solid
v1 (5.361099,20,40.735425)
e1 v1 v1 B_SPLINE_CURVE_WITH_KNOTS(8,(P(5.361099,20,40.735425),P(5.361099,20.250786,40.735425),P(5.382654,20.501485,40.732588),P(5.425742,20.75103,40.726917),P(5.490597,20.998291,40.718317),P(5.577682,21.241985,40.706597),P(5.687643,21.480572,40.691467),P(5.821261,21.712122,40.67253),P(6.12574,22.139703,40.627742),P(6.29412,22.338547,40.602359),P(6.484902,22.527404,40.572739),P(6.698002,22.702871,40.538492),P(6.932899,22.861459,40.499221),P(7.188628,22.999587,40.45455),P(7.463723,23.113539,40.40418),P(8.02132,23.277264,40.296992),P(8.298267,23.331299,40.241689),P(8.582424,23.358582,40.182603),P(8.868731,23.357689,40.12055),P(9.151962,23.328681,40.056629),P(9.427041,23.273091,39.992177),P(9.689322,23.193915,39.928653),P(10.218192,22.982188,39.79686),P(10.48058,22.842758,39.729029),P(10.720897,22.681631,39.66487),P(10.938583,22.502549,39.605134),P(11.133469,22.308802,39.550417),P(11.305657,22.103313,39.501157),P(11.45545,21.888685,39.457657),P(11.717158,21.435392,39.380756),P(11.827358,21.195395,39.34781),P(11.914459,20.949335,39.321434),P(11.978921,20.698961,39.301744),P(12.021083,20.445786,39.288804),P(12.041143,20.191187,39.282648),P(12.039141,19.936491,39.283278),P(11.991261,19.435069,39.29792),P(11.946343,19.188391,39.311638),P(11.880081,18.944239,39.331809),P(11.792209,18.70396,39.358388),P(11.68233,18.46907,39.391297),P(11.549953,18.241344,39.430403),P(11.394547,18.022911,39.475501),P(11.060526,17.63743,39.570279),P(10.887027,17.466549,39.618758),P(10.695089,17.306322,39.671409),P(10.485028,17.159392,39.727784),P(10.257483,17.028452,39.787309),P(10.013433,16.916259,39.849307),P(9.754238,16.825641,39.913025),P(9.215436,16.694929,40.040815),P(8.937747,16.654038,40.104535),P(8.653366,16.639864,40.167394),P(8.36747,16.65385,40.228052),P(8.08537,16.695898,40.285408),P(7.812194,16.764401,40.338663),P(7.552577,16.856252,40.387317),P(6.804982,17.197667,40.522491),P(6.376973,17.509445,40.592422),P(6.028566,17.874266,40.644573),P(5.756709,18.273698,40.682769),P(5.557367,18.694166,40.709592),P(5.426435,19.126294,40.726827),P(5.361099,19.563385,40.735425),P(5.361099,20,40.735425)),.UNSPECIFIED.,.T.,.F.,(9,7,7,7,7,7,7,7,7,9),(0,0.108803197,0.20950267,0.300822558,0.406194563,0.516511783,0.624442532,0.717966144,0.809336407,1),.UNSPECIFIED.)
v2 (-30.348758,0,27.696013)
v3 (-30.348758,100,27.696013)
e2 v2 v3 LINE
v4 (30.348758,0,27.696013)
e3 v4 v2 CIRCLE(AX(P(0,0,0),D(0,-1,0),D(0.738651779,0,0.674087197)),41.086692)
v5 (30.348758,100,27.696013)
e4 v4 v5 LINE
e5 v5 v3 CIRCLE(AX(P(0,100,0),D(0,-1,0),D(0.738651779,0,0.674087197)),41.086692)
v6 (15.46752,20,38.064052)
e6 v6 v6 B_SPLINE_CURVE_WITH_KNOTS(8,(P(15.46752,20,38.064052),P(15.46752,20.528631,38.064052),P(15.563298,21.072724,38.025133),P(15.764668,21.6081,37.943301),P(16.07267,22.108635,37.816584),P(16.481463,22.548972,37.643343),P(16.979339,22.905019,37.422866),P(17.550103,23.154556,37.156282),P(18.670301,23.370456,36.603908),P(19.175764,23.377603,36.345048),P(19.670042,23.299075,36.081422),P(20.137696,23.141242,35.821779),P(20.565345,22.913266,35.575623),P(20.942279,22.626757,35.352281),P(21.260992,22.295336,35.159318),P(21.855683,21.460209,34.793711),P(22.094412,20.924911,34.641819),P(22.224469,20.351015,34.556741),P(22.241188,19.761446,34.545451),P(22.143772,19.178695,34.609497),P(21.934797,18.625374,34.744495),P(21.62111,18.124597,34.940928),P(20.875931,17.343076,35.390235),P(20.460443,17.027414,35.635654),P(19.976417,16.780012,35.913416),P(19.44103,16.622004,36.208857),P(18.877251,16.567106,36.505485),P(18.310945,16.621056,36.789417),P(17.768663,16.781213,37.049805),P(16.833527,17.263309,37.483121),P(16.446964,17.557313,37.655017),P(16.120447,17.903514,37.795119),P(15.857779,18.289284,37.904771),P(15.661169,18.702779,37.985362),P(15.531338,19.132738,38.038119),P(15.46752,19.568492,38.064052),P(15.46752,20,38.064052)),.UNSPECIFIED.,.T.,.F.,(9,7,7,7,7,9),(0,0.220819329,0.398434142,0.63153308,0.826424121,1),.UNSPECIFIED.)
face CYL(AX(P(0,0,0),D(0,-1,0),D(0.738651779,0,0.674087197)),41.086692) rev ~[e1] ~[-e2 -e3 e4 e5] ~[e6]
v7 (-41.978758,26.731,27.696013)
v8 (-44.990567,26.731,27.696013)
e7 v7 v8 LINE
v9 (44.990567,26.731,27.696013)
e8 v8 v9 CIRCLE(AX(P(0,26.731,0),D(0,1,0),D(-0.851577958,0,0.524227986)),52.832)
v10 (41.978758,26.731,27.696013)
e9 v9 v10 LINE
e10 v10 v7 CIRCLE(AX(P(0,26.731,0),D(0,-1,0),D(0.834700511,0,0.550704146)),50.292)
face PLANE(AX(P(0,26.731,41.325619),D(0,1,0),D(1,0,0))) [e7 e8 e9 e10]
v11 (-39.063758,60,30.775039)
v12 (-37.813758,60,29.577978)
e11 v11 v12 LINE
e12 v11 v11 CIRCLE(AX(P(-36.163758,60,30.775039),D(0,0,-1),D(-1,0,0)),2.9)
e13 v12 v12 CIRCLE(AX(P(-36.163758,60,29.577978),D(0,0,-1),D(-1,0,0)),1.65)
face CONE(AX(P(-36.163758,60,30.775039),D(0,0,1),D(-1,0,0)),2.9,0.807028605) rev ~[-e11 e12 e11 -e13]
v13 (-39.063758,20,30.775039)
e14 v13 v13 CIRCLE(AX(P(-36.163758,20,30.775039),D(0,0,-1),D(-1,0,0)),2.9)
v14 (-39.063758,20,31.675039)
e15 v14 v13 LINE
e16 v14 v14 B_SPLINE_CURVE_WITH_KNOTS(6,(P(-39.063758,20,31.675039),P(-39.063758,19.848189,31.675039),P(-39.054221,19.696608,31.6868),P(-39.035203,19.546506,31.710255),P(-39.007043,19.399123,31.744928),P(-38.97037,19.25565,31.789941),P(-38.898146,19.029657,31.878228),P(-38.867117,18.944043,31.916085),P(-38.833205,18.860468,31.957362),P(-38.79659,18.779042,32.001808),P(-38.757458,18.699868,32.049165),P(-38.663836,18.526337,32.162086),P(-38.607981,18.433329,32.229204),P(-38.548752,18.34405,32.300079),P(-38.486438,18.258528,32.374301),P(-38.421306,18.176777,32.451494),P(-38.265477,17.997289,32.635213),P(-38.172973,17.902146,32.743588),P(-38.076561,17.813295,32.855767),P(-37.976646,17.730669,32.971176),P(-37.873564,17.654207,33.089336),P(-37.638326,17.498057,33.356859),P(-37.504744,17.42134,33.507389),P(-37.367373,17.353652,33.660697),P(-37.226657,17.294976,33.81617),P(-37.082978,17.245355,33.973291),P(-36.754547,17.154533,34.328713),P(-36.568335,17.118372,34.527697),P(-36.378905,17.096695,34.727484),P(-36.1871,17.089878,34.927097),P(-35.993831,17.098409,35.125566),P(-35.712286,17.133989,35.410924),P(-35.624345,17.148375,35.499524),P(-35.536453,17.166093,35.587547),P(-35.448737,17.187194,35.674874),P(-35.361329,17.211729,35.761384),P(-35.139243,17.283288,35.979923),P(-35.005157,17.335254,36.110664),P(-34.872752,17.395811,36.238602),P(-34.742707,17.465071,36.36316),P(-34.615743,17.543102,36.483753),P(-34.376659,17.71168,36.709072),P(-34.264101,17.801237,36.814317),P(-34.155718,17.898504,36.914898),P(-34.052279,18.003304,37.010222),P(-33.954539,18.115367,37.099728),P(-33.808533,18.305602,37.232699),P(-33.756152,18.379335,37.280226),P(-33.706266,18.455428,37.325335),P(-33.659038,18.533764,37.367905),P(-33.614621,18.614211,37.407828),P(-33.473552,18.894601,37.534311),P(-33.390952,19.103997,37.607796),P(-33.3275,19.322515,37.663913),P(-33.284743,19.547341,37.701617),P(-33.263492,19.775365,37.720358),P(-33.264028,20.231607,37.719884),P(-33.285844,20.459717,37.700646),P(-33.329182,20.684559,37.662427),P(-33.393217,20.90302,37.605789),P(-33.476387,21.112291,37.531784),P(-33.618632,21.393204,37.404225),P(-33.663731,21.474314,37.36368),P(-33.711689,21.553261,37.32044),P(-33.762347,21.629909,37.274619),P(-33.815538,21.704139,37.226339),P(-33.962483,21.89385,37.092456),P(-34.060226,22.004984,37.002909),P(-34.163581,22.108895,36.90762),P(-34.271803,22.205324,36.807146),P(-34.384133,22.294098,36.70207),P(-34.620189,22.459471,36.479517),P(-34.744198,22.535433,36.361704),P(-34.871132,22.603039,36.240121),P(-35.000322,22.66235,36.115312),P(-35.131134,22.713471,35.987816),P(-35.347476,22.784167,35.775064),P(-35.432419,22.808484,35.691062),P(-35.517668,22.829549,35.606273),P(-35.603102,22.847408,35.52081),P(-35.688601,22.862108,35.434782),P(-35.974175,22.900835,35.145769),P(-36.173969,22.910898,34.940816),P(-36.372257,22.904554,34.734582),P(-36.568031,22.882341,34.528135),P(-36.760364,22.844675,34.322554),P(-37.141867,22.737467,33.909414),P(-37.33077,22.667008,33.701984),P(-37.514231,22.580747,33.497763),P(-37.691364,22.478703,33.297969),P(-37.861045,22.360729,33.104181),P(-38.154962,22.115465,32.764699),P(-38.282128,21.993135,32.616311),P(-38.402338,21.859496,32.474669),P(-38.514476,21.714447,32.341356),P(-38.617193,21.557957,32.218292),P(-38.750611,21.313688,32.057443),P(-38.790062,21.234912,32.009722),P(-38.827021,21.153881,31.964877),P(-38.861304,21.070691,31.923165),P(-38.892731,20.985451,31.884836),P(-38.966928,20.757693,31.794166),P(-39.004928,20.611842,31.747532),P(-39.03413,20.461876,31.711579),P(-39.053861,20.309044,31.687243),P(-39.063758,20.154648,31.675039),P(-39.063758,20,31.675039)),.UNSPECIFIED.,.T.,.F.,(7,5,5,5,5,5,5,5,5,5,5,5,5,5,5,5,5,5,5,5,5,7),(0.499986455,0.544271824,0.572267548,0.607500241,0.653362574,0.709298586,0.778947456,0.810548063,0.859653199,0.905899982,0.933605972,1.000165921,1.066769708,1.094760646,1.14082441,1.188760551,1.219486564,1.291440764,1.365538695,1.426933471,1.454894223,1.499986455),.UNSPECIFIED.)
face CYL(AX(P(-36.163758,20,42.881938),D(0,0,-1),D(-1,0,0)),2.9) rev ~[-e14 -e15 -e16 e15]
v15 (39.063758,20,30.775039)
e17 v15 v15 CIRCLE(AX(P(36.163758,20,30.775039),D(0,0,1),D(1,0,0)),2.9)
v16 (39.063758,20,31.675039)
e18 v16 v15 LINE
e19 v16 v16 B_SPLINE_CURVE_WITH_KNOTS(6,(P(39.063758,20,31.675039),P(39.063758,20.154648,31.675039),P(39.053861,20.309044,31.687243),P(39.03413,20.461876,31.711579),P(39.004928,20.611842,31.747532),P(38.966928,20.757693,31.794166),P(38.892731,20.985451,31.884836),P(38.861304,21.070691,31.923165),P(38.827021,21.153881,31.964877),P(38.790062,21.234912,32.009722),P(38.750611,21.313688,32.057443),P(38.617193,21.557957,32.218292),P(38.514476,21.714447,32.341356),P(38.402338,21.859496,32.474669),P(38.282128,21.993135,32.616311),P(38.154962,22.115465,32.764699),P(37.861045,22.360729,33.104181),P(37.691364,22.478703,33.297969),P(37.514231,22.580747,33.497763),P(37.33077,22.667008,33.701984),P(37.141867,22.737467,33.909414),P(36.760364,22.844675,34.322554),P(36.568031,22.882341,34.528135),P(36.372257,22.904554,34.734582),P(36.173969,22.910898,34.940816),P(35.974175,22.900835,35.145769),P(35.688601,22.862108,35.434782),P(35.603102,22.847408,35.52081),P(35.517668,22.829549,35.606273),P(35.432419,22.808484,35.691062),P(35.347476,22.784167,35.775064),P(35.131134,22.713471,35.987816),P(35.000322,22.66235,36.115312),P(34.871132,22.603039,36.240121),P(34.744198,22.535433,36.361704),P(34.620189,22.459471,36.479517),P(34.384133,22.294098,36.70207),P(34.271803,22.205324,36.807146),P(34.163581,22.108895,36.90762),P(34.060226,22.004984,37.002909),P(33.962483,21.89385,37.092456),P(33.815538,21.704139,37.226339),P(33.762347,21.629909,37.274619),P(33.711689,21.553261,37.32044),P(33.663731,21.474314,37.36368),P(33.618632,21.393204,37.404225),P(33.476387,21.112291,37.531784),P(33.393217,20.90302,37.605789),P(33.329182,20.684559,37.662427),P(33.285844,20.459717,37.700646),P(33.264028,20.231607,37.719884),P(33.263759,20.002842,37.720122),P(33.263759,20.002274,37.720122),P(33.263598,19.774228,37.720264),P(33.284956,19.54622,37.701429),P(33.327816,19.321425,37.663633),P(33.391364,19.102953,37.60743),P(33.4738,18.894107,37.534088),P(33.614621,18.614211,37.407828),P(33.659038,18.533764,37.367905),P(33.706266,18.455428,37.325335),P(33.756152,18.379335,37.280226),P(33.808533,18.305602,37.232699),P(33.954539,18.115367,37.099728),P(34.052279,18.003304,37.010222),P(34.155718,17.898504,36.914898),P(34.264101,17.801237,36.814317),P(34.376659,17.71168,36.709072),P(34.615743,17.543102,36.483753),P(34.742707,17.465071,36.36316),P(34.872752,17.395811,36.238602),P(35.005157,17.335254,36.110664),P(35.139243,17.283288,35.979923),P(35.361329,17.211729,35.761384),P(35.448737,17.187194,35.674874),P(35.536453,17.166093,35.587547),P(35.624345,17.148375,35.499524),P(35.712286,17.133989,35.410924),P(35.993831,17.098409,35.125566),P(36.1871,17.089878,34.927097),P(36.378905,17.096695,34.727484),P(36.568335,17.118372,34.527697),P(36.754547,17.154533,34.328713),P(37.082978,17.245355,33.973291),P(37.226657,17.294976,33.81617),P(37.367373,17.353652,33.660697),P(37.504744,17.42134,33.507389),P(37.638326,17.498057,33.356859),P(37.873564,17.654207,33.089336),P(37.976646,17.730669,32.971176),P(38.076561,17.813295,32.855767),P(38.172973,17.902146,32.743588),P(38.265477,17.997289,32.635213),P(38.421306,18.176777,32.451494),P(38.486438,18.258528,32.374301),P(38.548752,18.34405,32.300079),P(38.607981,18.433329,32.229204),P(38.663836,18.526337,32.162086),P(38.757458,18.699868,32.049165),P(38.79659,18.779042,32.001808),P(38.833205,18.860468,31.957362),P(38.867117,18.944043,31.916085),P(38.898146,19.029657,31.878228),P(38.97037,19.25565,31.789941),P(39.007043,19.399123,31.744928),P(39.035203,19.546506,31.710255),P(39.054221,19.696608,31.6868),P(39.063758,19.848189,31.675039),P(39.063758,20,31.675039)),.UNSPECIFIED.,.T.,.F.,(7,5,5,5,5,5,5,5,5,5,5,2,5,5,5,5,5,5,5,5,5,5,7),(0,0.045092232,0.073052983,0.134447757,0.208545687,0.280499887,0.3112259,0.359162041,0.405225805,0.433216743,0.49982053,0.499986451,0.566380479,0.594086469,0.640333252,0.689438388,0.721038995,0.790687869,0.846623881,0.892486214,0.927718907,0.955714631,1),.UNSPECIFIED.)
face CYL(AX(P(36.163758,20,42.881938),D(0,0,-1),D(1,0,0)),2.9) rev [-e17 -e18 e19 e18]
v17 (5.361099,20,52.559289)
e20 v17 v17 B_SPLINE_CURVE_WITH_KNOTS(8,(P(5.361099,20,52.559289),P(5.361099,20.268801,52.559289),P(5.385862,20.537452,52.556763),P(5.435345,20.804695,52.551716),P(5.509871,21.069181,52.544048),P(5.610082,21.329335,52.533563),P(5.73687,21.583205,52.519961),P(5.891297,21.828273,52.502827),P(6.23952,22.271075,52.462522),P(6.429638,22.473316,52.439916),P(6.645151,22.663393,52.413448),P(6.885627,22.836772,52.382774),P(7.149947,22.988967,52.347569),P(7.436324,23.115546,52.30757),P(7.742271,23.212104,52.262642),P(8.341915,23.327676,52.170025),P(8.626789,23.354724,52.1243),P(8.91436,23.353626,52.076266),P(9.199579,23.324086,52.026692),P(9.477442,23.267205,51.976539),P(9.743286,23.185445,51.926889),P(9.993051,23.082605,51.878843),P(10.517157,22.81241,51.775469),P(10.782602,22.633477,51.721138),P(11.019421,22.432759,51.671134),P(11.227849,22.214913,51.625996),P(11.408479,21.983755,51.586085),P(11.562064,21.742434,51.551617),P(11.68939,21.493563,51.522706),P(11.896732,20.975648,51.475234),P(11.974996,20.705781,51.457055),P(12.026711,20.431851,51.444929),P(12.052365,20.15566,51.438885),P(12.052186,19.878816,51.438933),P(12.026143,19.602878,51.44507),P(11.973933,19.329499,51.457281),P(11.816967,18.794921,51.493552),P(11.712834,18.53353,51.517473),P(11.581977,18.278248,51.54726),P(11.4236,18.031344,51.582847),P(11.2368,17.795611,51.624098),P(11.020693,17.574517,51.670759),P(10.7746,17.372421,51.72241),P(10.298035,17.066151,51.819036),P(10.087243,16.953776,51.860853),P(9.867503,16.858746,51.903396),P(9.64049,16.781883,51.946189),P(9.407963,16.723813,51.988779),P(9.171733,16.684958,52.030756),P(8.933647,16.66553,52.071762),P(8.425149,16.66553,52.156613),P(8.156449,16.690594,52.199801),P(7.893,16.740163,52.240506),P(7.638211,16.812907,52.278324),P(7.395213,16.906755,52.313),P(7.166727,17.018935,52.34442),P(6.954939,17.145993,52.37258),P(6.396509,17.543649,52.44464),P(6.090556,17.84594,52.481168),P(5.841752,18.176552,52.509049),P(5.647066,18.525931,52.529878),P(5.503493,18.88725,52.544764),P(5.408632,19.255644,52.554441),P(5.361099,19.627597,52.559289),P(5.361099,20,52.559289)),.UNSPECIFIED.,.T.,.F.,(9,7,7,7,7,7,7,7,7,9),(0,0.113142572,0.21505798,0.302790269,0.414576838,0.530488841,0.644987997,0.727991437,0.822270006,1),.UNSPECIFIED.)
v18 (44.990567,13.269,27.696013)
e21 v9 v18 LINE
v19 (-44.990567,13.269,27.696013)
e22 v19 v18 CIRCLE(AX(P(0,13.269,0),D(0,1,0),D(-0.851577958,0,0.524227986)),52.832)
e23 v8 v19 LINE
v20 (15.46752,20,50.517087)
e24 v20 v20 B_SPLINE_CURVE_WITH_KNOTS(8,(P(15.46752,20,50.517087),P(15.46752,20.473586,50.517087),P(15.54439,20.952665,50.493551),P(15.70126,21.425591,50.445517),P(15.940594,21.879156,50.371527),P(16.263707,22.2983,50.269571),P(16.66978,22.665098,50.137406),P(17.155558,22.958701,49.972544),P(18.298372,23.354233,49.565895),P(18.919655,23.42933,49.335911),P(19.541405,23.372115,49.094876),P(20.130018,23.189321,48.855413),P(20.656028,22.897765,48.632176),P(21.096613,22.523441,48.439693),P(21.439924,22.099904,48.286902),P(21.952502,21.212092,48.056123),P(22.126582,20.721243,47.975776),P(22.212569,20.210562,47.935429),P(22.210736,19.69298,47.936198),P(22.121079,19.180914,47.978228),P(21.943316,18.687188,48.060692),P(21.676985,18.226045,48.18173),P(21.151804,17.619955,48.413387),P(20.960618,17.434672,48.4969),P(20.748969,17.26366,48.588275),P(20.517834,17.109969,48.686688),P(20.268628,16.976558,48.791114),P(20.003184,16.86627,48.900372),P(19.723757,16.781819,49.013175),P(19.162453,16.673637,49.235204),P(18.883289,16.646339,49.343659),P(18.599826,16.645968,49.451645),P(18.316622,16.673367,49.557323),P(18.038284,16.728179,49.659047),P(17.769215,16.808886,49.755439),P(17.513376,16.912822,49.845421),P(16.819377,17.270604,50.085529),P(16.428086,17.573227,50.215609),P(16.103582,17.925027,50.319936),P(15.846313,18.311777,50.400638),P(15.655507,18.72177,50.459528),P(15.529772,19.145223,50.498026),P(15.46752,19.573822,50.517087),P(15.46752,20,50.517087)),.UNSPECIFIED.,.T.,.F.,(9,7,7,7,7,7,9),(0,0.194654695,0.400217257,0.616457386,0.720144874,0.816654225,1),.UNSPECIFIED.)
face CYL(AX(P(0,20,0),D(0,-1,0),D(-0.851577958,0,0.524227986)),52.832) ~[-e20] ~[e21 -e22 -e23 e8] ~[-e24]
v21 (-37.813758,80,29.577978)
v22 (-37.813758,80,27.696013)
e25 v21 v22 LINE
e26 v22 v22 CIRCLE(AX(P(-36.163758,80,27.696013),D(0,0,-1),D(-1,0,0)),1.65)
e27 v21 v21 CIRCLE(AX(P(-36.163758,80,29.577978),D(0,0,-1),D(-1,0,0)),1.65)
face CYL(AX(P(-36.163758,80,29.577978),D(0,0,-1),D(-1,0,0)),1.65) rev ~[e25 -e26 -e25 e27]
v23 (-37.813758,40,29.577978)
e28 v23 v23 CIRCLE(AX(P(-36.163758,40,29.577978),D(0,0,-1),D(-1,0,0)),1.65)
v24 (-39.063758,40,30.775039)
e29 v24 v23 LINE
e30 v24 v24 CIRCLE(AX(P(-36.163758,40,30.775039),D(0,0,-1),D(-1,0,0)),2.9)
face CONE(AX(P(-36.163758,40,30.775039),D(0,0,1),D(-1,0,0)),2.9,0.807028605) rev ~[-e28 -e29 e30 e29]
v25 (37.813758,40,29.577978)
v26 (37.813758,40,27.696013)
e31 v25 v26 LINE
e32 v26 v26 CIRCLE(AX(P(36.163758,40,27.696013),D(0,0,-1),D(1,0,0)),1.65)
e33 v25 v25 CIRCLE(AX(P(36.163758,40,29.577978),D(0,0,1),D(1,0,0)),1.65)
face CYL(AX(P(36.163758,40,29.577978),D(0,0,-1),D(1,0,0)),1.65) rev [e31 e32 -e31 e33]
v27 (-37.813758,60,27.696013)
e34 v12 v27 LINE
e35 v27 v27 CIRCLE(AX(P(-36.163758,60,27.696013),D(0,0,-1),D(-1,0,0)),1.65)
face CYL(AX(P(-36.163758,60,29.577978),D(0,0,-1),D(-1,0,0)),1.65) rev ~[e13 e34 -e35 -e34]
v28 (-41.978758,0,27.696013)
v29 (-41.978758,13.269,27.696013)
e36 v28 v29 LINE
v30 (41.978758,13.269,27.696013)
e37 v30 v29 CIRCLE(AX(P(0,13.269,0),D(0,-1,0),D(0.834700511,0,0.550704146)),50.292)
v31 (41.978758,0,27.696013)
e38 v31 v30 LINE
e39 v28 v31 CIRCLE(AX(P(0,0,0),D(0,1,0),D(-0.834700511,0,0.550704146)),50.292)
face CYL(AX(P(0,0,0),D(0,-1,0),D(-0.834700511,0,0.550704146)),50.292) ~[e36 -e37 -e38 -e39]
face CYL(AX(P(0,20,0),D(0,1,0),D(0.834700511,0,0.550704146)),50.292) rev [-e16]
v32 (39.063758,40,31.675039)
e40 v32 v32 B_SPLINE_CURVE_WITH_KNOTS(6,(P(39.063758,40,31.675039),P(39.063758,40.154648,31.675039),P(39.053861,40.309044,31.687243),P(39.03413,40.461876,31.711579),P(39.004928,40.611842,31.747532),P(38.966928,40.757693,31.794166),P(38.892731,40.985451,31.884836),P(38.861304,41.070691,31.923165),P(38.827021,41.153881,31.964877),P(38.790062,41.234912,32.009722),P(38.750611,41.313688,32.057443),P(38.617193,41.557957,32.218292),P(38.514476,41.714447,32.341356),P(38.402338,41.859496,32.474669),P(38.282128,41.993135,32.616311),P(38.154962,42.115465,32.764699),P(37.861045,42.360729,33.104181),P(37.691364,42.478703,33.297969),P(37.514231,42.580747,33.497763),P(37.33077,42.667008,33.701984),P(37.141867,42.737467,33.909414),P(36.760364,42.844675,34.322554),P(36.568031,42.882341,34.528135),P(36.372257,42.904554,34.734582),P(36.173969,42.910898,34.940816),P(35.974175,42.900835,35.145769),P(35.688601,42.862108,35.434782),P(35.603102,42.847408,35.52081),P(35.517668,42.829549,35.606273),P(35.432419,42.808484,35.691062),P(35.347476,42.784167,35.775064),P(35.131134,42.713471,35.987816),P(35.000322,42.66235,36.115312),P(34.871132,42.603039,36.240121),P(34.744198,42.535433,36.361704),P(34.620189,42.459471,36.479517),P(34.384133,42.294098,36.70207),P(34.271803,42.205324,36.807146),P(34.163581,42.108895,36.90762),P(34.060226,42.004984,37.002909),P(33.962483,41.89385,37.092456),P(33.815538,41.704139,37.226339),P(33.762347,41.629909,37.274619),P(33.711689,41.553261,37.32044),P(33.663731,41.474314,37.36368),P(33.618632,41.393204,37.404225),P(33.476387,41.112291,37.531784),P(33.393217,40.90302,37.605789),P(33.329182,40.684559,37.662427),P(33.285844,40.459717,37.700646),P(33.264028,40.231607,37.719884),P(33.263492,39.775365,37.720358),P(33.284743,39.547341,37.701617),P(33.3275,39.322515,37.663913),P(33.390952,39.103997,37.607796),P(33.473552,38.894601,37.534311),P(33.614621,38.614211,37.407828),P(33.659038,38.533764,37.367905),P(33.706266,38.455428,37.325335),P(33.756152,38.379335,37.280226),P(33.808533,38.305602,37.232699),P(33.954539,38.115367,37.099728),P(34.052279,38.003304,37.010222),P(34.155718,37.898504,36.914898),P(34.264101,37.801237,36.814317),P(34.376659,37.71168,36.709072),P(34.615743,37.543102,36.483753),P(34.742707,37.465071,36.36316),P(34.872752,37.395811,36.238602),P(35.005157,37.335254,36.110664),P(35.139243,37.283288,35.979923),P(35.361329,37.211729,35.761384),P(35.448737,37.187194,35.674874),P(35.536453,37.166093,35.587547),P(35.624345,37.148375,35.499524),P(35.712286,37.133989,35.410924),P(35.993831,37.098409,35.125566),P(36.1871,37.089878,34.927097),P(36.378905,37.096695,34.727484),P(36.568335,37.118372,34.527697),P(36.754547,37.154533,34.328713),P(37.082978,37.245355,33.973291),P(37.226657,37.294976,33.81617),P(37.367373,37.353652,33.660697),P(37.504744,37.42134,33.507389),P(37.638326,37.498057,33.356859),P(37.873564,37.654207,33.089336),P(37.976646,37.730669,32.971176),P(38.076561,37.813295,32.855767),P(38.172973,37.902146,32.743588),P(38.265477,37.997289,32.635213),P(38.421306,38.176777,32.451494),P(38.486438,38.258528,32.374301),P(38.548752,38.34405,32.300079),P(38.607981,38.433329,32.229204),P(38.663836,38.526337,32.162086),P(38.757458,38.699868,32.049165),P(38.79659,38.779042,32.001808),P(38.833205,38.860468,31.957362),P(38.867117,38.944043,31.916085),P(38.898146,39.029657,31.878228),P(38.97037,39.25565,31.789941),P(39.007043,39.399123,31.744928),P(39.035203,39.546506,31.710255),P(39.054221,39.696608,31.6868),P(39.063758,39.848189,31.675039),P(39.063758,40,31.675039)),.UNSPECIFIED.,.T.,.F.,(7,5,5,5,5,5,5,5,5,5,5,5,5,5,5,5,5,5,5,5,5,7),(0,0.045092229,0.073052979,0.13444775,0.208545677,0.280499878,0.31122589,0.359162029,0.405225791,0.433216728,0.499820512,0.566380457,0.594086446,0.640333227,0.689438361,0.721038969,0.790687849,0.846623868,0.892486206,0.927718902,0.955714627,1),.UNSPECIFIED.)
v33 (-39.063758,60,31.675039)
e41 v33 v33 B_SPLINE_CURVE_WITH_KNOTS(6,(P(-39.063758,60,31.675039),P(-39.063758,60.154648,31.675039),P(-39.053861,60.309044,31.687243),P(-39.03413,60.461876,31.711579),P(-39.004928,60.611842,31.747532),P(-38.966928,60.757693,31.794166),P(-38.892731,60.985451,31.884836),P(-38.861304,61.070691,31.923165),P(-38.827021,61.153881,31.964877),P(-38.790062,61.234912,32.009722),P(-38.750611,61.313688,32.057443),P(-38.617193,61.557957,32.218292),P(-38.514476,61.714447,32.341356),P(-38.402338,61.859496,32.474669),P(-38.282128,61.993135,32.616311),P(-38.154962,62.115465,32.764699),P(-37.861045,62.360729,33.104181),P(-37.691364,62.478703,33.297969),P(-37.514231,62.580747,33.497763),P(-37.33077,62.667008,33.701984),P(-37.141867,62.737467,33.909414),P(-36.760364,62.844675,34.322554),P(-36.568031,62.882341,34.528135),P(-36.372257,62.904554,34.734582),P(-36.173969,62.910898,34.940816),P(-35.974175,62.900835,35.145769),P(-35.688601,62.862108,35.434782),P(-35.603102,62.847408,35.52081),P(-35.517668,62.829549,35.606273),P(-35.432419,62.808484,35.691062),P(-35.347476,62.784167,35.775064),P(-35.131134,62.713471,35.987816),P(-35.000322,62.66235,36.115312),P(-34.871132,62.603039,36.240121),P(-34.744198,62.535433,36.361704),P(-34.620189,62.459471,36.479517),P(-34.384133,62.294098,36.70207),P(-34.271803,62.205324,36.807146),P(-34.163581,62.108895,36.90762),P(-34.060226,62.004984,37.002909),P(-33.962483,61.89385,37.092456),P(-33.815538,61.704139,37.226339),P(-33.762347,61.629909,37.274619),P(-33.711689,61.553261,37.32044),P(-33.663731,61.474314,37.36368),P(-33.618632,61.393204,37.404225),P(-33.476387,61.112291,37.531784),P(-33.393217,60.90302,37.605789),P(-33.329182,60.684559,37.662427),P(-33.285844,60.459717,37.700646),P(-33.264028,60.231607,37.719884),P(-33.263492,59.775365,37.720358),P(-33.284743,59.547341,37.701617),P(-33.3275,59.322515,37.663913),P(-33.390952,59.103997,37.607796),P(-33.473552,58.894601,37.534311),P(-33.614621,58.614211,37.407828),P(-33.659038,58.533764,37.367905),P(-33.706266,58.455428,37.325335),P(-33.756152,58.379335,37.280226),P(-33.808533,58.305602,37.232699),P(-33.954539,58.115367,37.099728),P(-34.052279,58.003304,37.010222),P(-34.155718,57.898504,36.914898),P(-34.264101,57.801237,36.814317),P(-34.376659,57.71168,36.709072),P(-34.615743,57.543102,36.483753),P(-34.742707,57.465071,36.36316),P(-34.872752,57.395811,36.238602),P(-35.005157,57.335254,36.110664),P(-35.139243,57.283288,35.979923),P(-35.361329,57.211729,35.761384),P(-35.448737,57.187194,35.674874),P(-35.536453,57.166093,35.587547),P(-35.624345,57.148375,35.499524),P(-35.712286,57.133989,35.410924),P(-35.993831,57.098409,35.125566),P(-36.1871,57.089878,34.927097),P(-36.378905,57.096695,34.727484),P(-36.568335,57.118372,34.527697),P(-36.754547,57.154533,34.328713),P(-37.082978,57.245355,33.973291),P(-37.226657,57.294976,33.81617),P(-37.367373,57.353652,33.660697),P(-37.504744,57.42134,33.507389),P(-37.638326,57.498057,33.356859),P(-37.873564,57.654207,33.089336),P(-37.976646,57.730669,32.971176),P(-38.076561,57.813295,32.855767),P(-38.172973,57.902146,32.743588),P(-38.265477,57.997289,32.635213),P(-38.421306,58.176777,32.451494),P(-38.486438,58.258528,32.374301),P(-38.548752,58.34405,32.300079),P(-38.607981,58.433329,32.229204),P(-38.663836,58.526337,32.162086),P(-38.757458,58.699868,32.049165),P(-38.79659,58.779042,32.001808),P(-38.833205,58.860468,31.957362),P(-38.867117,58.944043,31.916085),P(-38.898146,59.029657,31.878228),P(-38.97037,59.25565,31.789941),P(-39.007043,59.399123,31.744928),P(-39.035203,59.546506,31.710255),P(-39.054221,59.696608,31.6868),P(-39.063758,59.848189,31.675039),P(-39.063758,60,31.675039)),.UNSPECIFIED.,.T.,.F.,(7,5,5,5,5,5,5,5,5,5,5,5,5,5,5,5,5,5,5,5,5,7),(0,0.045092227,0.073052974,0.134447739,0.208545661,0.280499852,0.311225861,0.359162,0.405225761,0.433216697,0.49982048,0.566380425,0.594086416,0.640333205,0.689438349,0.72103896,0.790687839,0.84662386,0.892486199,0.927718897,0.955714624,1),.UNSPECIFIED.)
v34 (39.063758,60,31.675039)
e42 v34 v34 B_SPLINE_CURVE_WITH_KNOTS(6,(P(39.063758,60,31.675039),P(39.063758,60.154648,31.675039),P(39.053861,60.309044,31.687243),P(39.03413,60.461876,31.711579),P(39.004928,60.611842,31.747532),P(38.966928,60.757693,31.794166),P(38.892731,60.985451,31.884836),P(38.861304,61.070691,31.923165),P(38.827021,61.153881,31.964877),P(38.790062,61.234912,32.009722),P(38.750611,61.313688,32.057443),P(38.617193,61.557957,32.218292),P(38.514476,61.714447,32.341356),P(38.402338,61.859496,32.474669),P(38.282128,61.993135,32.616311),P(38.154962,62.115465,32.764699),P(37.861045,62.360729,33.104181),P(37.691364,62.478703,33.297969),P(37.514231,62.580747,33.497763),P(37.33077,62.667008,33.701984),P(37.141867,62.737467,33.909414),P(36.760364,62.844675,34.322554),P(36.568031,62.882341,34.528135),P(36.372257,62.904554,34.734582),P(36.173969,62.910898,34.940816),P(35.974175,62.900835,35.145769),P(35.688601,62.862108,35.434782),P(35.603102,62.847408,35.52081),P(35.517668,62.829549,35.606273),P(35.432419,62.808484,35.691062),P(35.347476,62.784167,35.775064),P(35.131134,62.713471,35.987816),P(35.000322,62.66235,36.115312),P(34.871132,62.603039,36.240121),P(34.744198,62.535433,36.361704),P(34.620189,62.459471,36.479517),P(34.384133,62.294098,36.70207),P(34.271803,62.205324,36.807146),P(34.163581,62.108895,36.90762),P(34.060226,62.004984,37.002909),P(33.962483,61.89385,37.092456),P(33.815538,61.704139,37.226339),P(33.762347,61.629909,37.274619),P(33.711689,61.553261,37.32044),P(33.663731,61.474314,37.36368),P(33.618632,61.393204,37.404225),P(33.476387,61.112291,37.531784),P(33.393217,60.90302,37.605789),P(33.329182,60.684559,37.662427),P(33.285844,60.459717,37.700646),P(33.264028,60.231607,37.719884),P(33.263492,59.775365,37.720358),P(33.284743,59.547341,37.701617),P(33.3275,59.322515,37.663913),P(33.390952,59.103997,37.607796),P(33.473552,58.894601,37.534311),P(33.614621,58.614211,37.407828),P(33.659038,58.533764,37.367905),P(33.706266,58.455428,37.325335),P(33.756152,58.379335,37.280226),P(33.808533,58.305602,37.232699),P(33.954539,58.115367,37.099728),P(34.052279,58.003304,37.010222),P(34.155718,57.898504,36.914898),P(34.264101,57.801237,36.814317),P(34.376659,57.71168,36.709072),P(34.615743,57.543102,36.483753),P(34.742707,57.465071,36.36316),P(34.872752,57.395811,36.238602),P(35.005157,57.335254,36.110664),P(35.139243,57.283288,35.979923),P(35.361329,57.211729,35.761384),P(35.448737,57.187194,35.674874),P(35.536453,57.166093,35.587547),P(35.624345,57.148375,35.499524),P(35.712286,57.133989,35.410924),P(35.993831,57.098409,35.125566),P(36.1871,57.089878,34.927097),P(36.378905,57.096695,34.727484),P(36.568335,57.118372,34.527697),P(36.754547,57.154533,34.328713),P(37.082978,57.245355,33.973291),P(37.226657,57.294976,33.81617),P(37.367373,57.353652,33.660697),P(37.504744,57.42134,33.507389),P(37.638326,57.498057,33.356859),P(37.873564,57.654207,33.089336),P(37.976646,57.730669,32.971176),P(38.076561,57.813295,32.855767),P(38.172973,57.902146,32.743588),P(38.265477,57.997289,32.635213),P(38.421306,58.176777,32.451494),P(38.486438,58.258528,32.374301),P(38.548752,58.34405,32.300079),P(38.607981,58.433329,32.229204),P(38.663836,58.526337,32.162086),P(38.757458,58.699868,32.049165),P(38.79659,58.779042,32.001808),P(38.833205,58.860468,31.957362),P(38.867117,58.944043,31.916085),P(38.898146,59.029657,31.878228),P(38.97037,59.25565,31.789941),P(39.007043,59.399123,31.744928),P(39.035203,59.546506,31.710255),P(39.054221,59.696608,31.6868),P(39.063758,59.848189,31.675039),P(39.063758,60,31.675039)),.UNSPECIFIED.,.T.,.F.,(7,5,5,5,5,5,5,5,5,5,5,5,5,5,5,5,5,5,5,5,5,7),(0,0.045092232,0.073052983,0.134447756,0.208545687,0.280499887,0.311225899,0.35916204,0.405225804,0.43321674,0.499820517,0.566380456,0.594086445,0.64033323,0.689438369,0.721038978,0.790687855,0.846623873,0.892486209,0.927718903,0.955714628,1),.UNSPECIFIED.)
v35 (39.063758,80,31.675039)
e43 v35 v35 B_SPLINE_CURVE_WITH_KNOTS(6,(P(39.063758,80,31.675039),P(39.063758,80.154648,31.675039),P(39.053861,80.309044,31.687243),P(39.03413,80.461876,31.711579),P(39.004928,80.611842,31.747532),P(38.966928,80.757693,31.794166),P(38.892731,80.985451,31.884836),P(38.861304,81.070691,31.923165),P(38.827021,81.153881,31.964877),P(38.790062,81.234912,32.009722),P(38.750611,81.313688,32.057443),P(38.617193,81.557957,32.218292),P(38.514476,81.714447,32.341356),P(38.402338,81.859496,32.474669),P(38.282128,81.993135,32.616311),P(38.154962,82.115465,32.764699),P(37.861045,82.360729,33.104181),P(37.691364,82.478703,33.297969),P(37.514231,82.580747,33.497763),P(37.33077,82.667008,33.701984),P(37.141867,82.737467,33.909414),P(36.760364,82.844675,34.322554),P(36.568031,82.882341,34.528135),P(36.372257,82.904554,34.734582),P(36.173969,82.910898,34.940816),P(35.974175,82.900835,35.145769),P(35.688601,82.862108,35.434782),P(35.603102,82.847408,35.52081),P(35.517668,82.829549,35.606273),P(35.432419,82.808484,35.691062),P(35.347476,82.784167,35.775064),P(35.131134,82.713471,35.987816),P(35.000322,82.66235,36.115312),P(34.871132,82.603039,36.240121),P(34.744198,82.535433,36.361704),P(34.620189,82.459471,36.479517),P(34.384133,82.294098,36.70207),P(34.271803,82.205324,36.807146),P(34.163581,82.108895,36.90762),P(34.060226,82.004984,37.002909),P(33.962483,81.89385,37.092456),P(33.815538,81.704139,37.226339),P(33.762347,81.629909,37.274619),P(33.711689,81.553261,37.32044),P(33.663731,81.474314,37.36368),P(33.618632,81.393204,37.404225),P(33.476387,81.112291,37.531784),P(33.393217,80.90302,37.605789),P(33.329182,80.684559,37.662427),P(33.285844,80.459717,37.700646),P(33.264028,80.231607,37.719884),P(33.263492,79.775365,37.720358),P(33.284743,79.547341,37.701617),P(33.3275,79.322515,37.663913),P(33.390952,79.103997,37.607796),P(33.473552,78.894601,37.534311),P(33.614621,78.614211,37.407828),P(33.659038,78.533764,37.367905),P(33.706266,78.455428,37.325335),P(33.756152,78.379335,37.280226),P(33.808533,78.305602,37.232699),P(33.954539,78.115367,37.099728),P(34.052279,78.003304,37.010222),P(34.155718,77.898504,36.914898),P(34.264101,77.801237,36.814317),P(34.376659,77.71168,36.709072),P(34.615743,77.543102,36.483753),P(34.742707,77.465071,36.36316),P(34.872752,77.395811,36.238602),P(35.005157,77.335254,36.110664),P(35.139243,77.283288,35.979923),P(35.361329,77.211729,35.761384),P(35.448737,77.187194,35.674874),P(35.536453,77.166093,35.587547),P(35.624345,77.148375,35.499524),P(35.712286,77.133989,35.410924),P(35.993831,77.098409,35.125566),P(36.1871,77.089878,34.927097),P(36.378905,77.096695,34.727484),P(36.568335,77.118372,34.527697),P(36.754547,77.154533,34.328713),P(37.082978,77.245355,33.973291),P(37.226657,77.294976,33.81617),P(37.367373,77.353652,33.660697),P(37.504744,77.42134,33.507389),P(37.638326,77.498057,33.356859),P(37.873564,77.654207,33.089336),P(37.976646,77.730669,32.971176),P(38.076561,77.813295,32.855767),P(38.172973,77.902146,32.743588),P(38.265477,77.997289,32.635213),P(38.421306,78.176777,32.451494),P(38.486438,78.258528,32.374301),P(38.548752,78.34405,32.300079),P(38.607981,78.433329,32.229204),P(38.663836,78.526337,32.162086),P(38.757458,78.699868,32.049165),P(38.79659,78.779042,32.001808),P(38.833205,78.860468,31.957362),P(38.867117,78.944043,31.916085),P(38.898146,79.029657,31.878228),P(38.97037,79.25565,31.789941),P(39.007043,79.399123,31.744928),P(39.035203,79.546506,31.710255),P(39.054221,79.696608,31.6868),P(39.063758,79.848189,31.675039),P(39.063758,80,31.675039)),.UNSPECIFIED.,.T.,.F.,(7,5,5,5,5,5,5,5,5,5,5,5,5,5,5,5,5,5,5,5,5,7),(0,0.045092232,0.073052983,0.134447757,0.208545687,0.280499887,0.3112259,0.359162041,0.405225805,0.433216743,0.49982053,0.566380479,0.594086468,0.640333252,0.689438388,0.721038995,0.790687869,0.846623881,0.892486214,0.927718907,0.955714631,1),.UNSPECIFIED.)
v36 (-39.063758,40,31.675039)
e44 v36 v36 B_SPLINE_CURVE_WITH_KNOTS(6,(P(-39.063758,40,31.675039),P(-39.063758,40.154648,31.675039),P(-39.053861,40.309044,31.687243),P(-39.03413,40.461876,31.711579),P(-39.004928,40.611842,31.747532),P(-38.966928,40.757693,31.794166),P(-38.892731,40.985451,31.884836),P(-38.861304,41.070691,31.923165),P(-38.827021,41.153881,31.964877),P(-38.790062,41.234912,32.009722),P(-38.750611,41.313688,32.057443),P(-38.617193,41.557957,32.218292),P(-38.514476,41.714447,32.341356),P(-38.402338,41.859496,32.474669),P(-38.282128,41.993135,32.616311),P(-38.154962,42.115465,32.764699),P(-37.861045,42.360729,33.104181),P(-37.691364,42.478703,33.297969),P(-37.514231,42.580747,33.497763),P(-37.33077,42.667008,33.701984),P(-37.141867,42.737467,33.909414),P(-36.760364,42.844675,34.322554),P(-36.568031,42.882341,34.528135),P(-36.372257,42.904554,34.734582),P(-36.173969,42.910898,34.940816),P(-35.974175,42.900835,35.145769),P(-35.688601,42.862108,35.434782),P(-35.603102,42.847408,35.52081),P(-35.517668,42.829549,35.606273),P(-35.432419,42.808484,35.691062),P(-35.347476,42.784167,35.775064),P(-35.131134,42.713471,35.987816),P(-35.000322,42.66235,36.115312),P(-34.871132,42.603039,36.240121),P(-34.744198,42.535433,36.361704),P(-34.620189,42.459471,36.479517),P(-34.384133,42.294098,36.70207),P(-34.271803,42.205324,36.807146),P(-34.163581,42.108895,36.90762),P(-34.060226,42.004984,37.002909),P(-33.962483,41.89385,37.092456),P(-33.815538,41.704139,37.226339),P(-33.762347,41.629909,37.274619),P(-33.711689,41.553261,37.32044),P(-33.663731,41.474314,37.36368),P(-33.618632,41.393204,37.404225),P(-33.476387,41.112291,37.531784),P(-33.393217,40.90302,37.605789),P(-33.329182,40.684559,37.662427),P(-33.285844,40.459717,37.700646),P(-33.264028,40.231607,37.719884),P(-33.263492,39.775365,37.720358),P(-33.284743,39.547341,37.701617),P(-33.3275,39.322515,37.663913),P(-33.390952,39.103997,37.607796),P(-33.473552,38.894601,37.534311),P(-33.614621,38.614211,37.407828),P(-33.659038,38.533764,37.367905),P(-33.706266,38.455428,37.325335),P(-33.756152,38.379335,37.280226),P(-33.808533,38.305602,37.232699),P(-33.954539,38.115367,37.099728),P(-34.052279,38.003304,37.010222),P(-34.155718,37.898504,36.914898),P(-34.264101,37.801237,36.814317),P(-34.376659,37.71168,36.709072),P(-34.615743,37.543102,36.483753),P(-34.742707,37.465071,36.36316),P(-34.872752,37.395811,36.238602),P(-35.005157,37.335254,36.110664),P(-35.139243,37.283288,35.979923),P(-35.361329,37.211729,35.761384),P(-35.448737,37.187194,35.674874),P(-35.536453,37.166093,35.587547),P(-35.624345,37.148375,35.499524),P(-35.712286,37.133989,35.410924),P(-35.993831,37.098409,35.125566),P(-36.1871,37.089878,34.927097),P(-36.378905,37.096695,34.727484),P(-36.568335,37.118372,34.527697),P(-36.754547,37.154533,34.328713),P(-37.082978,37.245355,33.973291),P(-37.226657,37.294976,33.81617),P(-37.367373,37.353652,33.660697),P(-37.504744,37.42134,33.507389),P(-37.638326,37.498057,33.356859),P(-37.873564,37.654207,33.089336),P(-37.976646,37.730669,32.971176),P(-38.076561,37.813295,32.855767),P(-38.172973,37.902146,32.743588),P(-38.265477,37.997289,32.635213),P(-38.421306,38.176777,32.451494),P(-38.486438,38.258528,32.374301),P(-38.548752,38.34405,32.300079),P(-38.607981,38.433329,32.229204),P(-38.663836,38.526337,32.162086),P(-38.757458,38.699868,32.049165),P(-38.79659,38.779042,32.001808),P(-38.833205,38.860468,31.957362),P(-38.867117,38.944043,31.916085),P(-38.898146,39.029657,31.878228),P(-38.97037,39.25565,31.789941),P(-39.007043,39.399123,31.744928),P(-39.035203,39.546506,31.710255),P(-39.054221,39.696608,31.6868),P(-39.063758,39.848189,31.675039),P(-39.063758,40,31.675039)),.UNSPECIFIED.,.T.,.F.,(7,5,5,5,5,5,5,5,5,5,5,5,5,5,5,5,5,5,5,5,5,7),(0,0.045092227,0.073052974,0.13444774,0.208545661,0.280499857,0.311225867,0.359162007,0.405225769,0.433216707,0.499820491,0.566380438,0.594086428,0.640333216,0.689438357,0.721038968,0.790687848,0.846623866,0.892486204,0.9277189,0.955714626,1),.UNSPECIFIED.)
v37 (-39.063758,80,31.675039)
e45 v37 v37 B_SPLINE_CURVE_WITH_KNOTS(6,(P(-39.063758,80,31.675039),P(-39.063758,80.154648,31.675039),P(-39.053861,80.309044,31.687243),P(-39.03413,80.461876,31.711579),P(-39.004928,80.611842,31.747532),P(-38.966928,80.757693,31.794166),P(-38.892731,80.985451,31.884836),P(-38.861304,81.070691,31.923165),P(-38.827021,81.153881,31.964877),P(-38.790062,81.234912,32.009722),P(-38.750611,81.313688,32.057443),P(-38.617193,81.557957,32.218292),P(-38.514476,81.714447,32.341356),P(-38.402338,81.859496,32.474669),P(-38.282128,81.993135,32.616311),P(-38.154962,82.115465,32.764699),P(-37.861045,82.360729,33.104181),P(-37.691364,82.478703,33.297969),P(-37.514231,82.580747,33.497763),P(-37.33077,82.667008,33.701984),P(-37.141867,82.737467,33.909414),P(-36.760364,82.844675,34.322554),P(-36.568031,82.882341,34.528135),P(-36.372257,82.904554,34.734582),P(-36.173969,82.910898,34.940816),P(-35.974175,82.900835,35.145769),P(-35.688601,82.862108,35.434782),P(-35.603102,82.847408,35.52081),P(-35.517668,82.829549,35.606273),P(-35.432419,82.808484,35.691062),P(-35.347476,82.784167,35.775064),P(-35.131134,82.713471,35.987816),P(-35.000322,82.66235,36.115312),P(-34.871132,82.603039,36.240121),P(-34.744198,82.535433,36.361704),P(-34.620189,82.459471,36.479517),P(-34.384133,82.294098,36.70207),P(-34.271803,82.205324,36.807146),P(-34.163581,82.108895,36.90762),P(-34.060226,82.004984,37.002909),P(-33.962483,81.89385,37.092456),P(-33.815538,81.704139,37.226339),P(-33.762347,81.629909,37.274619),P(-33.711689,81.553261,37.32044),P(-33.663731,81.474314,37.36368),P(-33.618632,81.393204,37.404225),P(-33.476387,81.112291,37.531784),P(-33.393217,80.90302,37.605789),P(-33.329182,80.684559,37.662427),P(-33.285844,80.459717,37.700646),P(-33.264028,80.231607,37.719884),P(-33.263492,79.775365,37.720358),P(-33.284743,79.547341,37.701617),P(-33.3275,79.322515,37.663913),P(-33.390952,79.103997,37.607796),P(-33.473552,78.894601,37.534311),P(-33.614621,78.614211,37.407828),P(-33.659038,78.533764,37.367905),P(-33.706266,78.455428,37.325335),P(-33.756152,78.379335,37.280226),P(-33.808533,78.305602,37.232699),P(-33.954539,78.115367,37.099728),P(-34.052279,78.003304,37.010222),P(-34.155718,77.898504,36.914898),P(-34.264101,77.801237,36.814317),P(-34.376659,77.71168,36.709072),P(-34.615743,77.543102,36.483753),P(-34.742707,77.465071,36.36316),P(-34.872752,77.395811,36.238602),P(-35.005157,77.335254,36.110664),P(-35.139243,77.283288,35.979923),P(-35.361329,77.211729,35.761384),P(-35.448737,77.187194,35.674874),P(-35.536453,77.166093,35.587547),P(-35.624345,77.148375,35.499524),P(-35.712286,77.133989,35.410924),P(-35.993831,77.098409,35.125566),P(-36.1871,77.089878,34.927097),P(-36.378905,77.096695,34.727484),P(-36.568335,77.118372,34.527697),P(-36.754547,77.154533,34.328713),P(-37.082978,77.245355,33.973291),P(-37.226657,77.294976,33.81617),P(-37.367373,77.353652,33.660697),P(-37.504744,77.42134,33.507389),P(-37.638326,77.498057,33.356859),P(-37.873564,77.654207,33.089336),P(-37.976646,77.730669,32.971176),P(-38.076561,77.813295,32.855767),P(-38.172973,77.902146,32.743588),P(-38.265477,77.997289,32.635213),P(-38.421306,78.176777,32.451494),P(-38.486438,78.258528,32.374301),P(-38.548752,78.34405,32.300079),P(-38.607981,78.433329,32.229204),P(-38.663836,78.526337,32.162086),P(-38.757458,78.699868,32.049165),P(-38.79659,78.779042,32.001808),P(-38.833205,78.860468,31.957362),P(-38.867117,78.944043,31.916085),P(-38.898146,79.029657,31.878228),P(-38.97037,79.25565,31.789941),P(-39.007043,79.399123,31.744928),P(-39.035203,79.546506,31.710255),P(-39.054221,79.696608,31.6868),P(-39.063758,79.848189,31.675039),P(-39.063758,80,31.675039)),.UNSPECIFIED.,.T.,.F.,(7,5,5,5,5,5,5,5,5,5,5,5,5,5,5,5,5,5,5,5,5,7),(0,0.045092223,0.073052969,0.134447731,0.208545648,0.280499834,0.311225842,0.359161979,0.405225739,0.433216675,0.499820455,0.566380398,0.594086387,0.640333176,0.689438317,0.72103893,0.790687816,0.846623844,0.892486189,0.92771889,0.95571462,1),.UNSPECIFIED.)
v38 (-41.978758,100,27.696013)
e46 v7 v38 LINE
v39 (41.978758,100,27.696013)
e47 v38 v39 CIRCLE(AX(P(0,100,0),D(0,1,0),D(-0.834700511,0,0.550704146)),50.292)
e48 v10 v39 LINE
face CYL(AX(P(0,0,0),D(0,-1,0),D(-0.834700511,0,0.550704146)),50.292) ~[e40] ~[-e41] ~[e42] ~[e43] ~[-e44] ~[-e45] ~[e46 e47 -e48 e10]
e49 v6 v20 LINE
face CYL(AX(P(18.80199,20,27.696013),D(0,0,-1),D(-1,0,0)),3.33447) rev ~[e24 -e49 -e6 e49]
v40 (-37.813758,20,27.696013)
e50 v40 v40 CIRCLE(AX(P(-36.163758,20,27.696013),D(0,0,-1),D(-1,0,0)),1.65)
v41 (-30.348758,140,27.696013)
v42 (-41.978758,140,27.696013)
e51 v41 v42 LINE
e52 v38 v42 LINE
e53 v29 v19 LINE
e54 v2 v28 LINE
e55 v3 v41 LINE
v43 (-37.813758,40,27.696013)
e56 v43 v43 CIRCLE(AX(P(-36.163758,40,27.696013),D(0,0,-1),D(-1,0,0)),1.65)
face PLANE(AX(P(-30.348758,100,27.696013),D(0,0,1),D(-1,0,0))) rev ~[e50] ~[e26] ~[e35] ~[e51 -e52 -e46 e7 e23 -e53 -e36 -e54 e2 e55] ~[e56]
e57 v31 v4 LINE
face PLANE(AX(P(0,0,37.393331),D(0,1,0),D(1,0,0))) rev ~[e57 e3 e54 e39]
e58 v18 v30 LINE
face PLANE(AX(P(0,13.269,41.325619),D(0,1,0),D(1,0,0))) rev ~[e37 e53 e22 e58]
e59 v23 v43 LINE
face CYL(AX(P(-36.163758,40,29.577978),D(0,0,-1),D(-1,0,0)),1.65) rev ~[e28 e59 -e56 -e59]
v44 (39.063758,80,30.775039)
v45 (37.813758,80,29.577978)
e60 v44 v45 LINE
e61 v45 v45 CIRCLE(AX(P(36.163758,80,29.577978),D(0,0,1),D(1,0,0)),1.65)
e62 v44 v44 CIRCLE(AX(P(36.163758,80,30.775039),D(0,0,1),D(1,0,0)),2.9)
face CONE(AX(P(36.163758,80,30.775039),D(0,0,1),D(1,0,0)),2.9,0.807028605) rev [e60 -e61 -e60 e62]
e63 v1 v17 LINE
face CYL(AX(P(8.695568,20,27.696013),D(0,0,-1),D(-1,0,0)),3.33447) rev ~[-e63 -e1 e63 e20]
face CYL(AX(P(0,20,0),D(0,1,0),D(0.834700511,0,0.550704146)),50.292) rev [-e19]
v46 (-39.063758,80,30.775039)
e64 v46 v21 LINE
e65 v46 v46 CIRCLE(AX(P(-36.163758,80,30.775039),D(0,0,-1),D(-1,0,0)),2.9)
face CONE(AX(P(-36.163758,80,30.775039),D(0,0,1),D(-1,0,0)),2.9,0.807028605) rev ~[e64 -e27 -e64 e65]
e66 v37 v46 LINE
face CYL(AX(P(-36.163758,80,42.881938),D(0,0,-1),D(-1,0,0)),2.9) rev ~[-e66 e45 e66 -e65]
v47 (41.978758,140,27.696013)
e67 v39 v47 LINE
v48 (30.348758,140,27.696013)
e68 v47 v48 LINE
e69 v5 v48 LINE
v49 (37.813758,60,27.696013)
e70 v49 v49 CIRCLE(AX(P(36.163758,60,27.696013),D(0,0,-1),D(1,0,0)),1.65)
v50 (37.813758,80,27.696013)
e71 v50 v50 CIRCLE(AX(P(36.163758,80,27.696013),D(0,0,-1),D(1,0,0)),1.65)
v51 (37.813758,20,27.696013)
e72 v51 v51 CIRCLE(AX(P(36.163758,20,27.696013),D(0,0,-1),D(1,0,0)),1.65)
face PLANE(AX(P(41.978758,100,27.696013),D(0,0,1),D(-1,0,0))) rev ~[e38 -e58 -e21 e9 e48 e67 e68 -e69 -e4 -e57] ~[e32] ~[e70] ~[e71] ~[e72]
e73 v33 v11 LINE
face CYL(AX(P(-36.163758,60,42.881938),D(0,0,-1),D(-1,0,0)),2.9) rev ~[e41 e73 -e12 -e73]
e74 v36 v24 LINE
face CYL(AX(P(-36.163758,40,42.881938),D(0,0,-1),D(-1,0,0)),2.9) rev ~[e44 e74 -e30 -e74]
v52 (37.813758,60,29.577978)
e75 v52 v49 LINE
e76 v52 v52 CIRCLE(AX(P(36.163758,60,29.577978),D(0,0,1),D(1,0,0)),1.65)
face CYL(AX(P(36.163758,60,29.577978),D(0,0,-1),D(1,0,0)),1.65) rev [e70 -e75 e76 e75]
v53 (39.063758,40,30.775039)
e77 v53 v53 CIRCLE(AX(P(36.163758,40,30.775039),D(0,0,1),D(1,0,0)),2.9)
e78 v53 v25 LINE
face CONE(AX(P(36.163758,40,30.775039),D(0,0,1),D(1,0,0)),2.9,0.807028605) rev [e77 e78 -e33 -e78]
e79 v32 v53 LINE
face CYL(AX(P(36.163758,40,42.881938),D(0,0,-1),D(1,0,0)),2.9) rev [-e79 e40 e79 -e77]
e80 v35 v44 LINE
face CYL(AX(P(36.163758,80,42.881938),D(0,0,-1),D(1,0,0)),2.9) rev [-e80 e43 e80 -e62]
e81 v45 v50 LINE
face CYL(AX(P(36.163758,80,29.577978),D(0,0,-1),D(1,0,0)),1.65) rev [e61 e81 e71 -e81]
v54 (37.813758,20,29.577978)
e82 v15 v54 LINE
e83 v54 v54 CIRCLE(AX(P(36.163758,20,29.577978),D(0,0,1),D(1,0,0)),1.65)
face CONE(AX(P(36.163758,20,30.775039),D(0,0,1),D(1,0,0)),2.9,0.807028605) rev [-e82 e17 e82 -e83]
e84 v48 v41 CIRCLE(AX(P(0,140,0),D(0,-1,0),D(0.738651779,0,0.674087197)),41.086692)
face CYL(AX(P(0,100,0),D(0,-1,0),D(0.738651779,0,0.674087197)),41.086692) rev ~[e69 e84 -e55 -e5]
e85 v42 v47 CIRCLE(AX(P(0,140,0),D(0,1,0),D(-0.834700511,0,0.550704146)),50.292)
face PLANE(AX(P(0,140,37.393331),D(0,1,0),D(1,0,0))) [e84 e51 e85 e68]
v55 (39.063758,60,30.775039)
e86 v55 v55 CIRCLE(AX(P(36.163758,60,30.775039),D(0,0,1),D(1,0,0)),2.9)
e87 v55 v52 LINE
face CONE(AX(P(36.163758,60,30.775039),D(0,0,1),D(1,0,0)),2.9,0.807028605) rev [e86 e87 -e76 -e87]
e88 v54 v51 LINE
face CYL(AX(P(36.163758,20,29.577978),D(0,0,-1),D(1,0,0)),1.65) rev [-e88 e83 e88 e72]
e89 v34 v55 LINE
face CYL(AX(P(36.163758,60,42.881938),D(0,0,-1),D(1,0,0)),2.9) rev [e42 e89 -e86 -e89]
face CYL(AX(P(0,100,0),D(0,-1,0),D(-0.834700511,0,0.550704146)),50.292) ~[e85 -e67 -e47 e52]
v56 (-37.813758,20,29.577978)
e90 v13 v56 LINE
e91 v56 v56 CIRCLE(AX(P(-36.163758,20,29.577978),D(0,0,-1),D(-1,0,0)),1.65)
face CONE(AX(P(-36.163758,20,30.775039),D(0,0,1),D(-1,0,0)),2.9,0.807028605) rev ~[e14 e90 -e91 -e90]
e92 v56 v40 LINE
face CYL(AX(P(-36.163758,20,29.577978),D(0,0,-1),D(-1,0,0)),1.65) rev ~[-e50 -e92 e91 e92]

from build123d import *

# Parameters (mm, degrees)
BOSS_EXTRUDE1_DEPTH      = 100
LPATTERN1_COUNT          = 4
LPATTERN1_PITCH          = 20
BOSS_EXTRUDE2_DEPTH      = 6.731
BOSS_EXTRUDE2_DEPTH_BACK = 6.731
SKETCH9_R                = 3.334469726
CUT_EXTRUDE1_DEPTH       = 34
BOSS_EXTRUDE3_DEPTH      = 40


with BuildPart() as part:
    # Sketch1 → Boss-Extrude1 (new body)
    with BuildSketch(Plane(origin=(60.535204745, 0, -85.948449604), x_dir=(1, 0, 0), z_dir=(0, 1, 0))):
        with BuildLine():
            ThreePointArc((-30.186446753, -113.644462538), (-60.535204745, -127.035141416), (-90.883962736, -113.644462538))
            Line((-90.883962736, -113.644462538), (-102.513962844, -113.644462538))
            ThreePointArc((-102.513962844, -113.644462538), (-60.535204745, -136.240449604), (-18.556446645, -113.644462538))
            Line((-18.556446645, -113.644462538), (-30.186446753, -113.644462538))
        make_face()
    extrude(amount=BOSS_EXTRUDE1_DEPTH)

    # Sketch6 → Cut-Revolve4 (revolve, cut)
    with BuildSketch(Plane(origin=(36.163758045, 20, 27.696012934), x_dir=(-1, 0, 0), z_dir=(0, -1, 0))):
        Polygon((0, 1.685394277), (0, -4.78184701), (0, -15.185924704), (-2.9, -15.185924704), (-2.9, -3.079025683), (-1.65, -1.881964943), (-1.65, 1.685394277), align=None)
    cut_revolve4 = revolve(axis=Axis((36.163758045, 20, 26.010618657), (0, 0, 1)), mode=Mode.SUBTRACT)

    # LPattern1: Cut-Revolve4 ×4
    with Locations(*[(0, i * LPATTERN1_PITCH, 0) for i in range(1, LPATTERN1_COUNT)]):
        add(cut_revolve4, mode=Mode.SUBTRACT)

    # Mirror1: Cut-Revolve4 across plane
    add(cut_revolve4.mirror(Plane(origin=(0, 0, 0), x_dir=(0, 0, 1), z_dir=(1, 0, 0))), mode=Mode.SUBTRACT)

    # Mirror1 copy 1 sketch → Mirror1 copy 1 (revolve, cut)
    with BuildSketch(Plane(origin=(-36.163758045, 40, 27.696012934), x_dir=(1, 0, 0), z_dir=(0, -1, 0))):
        Polygon((0, -1.685394277), (0, 4.78184701), (0, 15.185924704), (-2.9, 15.185924704), (-2.9, 3.079025683), (-1.65, 1.881964943), (-1.65, -1.685394277), align=None)
    revolve(axis=Axis((-36.163758045, 40, 26.010618657), (0, 0, -1)), mode=Mode.SUBTRACT)

    # Mirror1 copy 2 sketch → Mirror1 copy 2 (revolve, cut)
    with BuildSketch(Plane(origin=(-36.163758045, 60, 27.696012934), x_dir=(1, 0, 0), z_dir=(0, -1, 0))):
        Polygon((0, -1.685394277), (0, 4.78184701), (0, 15.185924704), (-2.9, 15.185924704), (-2.9, 3.079025683), (-1.65, 1.881964943), (-1.65, -1.685394277), align=None)
    revolve(axis=Axis((-36.163758045, 60, 26.010618657), (0, 0, -1)), mode=Mode.SUBTRACT)

    # Mirror1 copy 3 sketch → Mirror1 copy 3 (revolve, cut)
    with BuildSketch(Plane(origin=(-36.163758045, 80, 27.696012934), x_dir=(1, 0, 0), z_dir=(0, -1, 0))):
        Polygon((0, -1.685394277), (0, 4.78184701), (0, 15.185924704), (-2.9, 15.185924704), (-2.9, 3.079025683), (-1.65, 1.881964943), (-1.65, -1.685394277), align=None)
    revolve(axis=Axis((-36.163758045, 80, 26.010618657), (0, 0, -1)), mode=Mode.SUBTRACT)

    # Sketch7 → Boss-Extrude2 (add, two sides)
    with BuildSketch(Plane(origin=(0, 20, 0), x_dir=(-1, 0, 0), z_dir=(0, -1, 0))) as boss_extrude2_sk:
        with BuildLine():
            Line((-44.990566695, -27.696012934), (-41.978758099, -27.696012934))
            ThreePointArc((-41.978758099, -27.696012934), (0, -50.292), (41.978758099, -27.696012934))
            Line((41.978758099, -27.696012934), (44.990566695, -27.696012934))
            ThreePointArc((44.990566695, -27.696012934), (0, -52.832), (-44.990566695, -27.696012934))
        make_face()
    extrude(amount=BOSS_EXTRUDE2_DEPTH)
    extrude(boss_extrude2_sk.sketch, amount=-BOSS_EXTRUDE2_DEPTH_BACK)

    # Sketch9 → Cut-Extrude1 (cut)
    with BuildSketch(Plane(origin=(0, 0, 27.696012934), x_dir=(-1, 0, 0), z_dir=(0, 0, -1))):
        with Locations((-18.801989508, 20)):
            Circle(SKETCH9_R)
        with Locations((-8.69556827, 20)):
            Circle(SKETCH9_R)
    extrude(amount=-CUT_EXTRUDE1_DEPTH, mode=Mode.SUBTRACT)

    # Sketch10 → Boss-Extrude3 (add)
    with BuildSketch(Plane(origin=(0, 100, 0), x_dir=(1, 0, 0), z_dir=(0, 1, 0))):
        with BuildLine():
            Line((-30.348757991, -27.696012934), (-41.978758099, -27.696012934))
            ThreePointArc((-41.978758099, -27.696012934), (0, -50.292), (41.978758099, -27.696012934))
            Line((41.978758099, -27.696012934), (30.348757991, -27.696012934))
            ThreePointArc((30.348757991, -27.696012934), (0, -41.086691812), (-30.348757991, -27.696012934))
        make_face()
    extrude(amount=BOSS_EXTRUDE3_DEPTH)


solid = part.part
